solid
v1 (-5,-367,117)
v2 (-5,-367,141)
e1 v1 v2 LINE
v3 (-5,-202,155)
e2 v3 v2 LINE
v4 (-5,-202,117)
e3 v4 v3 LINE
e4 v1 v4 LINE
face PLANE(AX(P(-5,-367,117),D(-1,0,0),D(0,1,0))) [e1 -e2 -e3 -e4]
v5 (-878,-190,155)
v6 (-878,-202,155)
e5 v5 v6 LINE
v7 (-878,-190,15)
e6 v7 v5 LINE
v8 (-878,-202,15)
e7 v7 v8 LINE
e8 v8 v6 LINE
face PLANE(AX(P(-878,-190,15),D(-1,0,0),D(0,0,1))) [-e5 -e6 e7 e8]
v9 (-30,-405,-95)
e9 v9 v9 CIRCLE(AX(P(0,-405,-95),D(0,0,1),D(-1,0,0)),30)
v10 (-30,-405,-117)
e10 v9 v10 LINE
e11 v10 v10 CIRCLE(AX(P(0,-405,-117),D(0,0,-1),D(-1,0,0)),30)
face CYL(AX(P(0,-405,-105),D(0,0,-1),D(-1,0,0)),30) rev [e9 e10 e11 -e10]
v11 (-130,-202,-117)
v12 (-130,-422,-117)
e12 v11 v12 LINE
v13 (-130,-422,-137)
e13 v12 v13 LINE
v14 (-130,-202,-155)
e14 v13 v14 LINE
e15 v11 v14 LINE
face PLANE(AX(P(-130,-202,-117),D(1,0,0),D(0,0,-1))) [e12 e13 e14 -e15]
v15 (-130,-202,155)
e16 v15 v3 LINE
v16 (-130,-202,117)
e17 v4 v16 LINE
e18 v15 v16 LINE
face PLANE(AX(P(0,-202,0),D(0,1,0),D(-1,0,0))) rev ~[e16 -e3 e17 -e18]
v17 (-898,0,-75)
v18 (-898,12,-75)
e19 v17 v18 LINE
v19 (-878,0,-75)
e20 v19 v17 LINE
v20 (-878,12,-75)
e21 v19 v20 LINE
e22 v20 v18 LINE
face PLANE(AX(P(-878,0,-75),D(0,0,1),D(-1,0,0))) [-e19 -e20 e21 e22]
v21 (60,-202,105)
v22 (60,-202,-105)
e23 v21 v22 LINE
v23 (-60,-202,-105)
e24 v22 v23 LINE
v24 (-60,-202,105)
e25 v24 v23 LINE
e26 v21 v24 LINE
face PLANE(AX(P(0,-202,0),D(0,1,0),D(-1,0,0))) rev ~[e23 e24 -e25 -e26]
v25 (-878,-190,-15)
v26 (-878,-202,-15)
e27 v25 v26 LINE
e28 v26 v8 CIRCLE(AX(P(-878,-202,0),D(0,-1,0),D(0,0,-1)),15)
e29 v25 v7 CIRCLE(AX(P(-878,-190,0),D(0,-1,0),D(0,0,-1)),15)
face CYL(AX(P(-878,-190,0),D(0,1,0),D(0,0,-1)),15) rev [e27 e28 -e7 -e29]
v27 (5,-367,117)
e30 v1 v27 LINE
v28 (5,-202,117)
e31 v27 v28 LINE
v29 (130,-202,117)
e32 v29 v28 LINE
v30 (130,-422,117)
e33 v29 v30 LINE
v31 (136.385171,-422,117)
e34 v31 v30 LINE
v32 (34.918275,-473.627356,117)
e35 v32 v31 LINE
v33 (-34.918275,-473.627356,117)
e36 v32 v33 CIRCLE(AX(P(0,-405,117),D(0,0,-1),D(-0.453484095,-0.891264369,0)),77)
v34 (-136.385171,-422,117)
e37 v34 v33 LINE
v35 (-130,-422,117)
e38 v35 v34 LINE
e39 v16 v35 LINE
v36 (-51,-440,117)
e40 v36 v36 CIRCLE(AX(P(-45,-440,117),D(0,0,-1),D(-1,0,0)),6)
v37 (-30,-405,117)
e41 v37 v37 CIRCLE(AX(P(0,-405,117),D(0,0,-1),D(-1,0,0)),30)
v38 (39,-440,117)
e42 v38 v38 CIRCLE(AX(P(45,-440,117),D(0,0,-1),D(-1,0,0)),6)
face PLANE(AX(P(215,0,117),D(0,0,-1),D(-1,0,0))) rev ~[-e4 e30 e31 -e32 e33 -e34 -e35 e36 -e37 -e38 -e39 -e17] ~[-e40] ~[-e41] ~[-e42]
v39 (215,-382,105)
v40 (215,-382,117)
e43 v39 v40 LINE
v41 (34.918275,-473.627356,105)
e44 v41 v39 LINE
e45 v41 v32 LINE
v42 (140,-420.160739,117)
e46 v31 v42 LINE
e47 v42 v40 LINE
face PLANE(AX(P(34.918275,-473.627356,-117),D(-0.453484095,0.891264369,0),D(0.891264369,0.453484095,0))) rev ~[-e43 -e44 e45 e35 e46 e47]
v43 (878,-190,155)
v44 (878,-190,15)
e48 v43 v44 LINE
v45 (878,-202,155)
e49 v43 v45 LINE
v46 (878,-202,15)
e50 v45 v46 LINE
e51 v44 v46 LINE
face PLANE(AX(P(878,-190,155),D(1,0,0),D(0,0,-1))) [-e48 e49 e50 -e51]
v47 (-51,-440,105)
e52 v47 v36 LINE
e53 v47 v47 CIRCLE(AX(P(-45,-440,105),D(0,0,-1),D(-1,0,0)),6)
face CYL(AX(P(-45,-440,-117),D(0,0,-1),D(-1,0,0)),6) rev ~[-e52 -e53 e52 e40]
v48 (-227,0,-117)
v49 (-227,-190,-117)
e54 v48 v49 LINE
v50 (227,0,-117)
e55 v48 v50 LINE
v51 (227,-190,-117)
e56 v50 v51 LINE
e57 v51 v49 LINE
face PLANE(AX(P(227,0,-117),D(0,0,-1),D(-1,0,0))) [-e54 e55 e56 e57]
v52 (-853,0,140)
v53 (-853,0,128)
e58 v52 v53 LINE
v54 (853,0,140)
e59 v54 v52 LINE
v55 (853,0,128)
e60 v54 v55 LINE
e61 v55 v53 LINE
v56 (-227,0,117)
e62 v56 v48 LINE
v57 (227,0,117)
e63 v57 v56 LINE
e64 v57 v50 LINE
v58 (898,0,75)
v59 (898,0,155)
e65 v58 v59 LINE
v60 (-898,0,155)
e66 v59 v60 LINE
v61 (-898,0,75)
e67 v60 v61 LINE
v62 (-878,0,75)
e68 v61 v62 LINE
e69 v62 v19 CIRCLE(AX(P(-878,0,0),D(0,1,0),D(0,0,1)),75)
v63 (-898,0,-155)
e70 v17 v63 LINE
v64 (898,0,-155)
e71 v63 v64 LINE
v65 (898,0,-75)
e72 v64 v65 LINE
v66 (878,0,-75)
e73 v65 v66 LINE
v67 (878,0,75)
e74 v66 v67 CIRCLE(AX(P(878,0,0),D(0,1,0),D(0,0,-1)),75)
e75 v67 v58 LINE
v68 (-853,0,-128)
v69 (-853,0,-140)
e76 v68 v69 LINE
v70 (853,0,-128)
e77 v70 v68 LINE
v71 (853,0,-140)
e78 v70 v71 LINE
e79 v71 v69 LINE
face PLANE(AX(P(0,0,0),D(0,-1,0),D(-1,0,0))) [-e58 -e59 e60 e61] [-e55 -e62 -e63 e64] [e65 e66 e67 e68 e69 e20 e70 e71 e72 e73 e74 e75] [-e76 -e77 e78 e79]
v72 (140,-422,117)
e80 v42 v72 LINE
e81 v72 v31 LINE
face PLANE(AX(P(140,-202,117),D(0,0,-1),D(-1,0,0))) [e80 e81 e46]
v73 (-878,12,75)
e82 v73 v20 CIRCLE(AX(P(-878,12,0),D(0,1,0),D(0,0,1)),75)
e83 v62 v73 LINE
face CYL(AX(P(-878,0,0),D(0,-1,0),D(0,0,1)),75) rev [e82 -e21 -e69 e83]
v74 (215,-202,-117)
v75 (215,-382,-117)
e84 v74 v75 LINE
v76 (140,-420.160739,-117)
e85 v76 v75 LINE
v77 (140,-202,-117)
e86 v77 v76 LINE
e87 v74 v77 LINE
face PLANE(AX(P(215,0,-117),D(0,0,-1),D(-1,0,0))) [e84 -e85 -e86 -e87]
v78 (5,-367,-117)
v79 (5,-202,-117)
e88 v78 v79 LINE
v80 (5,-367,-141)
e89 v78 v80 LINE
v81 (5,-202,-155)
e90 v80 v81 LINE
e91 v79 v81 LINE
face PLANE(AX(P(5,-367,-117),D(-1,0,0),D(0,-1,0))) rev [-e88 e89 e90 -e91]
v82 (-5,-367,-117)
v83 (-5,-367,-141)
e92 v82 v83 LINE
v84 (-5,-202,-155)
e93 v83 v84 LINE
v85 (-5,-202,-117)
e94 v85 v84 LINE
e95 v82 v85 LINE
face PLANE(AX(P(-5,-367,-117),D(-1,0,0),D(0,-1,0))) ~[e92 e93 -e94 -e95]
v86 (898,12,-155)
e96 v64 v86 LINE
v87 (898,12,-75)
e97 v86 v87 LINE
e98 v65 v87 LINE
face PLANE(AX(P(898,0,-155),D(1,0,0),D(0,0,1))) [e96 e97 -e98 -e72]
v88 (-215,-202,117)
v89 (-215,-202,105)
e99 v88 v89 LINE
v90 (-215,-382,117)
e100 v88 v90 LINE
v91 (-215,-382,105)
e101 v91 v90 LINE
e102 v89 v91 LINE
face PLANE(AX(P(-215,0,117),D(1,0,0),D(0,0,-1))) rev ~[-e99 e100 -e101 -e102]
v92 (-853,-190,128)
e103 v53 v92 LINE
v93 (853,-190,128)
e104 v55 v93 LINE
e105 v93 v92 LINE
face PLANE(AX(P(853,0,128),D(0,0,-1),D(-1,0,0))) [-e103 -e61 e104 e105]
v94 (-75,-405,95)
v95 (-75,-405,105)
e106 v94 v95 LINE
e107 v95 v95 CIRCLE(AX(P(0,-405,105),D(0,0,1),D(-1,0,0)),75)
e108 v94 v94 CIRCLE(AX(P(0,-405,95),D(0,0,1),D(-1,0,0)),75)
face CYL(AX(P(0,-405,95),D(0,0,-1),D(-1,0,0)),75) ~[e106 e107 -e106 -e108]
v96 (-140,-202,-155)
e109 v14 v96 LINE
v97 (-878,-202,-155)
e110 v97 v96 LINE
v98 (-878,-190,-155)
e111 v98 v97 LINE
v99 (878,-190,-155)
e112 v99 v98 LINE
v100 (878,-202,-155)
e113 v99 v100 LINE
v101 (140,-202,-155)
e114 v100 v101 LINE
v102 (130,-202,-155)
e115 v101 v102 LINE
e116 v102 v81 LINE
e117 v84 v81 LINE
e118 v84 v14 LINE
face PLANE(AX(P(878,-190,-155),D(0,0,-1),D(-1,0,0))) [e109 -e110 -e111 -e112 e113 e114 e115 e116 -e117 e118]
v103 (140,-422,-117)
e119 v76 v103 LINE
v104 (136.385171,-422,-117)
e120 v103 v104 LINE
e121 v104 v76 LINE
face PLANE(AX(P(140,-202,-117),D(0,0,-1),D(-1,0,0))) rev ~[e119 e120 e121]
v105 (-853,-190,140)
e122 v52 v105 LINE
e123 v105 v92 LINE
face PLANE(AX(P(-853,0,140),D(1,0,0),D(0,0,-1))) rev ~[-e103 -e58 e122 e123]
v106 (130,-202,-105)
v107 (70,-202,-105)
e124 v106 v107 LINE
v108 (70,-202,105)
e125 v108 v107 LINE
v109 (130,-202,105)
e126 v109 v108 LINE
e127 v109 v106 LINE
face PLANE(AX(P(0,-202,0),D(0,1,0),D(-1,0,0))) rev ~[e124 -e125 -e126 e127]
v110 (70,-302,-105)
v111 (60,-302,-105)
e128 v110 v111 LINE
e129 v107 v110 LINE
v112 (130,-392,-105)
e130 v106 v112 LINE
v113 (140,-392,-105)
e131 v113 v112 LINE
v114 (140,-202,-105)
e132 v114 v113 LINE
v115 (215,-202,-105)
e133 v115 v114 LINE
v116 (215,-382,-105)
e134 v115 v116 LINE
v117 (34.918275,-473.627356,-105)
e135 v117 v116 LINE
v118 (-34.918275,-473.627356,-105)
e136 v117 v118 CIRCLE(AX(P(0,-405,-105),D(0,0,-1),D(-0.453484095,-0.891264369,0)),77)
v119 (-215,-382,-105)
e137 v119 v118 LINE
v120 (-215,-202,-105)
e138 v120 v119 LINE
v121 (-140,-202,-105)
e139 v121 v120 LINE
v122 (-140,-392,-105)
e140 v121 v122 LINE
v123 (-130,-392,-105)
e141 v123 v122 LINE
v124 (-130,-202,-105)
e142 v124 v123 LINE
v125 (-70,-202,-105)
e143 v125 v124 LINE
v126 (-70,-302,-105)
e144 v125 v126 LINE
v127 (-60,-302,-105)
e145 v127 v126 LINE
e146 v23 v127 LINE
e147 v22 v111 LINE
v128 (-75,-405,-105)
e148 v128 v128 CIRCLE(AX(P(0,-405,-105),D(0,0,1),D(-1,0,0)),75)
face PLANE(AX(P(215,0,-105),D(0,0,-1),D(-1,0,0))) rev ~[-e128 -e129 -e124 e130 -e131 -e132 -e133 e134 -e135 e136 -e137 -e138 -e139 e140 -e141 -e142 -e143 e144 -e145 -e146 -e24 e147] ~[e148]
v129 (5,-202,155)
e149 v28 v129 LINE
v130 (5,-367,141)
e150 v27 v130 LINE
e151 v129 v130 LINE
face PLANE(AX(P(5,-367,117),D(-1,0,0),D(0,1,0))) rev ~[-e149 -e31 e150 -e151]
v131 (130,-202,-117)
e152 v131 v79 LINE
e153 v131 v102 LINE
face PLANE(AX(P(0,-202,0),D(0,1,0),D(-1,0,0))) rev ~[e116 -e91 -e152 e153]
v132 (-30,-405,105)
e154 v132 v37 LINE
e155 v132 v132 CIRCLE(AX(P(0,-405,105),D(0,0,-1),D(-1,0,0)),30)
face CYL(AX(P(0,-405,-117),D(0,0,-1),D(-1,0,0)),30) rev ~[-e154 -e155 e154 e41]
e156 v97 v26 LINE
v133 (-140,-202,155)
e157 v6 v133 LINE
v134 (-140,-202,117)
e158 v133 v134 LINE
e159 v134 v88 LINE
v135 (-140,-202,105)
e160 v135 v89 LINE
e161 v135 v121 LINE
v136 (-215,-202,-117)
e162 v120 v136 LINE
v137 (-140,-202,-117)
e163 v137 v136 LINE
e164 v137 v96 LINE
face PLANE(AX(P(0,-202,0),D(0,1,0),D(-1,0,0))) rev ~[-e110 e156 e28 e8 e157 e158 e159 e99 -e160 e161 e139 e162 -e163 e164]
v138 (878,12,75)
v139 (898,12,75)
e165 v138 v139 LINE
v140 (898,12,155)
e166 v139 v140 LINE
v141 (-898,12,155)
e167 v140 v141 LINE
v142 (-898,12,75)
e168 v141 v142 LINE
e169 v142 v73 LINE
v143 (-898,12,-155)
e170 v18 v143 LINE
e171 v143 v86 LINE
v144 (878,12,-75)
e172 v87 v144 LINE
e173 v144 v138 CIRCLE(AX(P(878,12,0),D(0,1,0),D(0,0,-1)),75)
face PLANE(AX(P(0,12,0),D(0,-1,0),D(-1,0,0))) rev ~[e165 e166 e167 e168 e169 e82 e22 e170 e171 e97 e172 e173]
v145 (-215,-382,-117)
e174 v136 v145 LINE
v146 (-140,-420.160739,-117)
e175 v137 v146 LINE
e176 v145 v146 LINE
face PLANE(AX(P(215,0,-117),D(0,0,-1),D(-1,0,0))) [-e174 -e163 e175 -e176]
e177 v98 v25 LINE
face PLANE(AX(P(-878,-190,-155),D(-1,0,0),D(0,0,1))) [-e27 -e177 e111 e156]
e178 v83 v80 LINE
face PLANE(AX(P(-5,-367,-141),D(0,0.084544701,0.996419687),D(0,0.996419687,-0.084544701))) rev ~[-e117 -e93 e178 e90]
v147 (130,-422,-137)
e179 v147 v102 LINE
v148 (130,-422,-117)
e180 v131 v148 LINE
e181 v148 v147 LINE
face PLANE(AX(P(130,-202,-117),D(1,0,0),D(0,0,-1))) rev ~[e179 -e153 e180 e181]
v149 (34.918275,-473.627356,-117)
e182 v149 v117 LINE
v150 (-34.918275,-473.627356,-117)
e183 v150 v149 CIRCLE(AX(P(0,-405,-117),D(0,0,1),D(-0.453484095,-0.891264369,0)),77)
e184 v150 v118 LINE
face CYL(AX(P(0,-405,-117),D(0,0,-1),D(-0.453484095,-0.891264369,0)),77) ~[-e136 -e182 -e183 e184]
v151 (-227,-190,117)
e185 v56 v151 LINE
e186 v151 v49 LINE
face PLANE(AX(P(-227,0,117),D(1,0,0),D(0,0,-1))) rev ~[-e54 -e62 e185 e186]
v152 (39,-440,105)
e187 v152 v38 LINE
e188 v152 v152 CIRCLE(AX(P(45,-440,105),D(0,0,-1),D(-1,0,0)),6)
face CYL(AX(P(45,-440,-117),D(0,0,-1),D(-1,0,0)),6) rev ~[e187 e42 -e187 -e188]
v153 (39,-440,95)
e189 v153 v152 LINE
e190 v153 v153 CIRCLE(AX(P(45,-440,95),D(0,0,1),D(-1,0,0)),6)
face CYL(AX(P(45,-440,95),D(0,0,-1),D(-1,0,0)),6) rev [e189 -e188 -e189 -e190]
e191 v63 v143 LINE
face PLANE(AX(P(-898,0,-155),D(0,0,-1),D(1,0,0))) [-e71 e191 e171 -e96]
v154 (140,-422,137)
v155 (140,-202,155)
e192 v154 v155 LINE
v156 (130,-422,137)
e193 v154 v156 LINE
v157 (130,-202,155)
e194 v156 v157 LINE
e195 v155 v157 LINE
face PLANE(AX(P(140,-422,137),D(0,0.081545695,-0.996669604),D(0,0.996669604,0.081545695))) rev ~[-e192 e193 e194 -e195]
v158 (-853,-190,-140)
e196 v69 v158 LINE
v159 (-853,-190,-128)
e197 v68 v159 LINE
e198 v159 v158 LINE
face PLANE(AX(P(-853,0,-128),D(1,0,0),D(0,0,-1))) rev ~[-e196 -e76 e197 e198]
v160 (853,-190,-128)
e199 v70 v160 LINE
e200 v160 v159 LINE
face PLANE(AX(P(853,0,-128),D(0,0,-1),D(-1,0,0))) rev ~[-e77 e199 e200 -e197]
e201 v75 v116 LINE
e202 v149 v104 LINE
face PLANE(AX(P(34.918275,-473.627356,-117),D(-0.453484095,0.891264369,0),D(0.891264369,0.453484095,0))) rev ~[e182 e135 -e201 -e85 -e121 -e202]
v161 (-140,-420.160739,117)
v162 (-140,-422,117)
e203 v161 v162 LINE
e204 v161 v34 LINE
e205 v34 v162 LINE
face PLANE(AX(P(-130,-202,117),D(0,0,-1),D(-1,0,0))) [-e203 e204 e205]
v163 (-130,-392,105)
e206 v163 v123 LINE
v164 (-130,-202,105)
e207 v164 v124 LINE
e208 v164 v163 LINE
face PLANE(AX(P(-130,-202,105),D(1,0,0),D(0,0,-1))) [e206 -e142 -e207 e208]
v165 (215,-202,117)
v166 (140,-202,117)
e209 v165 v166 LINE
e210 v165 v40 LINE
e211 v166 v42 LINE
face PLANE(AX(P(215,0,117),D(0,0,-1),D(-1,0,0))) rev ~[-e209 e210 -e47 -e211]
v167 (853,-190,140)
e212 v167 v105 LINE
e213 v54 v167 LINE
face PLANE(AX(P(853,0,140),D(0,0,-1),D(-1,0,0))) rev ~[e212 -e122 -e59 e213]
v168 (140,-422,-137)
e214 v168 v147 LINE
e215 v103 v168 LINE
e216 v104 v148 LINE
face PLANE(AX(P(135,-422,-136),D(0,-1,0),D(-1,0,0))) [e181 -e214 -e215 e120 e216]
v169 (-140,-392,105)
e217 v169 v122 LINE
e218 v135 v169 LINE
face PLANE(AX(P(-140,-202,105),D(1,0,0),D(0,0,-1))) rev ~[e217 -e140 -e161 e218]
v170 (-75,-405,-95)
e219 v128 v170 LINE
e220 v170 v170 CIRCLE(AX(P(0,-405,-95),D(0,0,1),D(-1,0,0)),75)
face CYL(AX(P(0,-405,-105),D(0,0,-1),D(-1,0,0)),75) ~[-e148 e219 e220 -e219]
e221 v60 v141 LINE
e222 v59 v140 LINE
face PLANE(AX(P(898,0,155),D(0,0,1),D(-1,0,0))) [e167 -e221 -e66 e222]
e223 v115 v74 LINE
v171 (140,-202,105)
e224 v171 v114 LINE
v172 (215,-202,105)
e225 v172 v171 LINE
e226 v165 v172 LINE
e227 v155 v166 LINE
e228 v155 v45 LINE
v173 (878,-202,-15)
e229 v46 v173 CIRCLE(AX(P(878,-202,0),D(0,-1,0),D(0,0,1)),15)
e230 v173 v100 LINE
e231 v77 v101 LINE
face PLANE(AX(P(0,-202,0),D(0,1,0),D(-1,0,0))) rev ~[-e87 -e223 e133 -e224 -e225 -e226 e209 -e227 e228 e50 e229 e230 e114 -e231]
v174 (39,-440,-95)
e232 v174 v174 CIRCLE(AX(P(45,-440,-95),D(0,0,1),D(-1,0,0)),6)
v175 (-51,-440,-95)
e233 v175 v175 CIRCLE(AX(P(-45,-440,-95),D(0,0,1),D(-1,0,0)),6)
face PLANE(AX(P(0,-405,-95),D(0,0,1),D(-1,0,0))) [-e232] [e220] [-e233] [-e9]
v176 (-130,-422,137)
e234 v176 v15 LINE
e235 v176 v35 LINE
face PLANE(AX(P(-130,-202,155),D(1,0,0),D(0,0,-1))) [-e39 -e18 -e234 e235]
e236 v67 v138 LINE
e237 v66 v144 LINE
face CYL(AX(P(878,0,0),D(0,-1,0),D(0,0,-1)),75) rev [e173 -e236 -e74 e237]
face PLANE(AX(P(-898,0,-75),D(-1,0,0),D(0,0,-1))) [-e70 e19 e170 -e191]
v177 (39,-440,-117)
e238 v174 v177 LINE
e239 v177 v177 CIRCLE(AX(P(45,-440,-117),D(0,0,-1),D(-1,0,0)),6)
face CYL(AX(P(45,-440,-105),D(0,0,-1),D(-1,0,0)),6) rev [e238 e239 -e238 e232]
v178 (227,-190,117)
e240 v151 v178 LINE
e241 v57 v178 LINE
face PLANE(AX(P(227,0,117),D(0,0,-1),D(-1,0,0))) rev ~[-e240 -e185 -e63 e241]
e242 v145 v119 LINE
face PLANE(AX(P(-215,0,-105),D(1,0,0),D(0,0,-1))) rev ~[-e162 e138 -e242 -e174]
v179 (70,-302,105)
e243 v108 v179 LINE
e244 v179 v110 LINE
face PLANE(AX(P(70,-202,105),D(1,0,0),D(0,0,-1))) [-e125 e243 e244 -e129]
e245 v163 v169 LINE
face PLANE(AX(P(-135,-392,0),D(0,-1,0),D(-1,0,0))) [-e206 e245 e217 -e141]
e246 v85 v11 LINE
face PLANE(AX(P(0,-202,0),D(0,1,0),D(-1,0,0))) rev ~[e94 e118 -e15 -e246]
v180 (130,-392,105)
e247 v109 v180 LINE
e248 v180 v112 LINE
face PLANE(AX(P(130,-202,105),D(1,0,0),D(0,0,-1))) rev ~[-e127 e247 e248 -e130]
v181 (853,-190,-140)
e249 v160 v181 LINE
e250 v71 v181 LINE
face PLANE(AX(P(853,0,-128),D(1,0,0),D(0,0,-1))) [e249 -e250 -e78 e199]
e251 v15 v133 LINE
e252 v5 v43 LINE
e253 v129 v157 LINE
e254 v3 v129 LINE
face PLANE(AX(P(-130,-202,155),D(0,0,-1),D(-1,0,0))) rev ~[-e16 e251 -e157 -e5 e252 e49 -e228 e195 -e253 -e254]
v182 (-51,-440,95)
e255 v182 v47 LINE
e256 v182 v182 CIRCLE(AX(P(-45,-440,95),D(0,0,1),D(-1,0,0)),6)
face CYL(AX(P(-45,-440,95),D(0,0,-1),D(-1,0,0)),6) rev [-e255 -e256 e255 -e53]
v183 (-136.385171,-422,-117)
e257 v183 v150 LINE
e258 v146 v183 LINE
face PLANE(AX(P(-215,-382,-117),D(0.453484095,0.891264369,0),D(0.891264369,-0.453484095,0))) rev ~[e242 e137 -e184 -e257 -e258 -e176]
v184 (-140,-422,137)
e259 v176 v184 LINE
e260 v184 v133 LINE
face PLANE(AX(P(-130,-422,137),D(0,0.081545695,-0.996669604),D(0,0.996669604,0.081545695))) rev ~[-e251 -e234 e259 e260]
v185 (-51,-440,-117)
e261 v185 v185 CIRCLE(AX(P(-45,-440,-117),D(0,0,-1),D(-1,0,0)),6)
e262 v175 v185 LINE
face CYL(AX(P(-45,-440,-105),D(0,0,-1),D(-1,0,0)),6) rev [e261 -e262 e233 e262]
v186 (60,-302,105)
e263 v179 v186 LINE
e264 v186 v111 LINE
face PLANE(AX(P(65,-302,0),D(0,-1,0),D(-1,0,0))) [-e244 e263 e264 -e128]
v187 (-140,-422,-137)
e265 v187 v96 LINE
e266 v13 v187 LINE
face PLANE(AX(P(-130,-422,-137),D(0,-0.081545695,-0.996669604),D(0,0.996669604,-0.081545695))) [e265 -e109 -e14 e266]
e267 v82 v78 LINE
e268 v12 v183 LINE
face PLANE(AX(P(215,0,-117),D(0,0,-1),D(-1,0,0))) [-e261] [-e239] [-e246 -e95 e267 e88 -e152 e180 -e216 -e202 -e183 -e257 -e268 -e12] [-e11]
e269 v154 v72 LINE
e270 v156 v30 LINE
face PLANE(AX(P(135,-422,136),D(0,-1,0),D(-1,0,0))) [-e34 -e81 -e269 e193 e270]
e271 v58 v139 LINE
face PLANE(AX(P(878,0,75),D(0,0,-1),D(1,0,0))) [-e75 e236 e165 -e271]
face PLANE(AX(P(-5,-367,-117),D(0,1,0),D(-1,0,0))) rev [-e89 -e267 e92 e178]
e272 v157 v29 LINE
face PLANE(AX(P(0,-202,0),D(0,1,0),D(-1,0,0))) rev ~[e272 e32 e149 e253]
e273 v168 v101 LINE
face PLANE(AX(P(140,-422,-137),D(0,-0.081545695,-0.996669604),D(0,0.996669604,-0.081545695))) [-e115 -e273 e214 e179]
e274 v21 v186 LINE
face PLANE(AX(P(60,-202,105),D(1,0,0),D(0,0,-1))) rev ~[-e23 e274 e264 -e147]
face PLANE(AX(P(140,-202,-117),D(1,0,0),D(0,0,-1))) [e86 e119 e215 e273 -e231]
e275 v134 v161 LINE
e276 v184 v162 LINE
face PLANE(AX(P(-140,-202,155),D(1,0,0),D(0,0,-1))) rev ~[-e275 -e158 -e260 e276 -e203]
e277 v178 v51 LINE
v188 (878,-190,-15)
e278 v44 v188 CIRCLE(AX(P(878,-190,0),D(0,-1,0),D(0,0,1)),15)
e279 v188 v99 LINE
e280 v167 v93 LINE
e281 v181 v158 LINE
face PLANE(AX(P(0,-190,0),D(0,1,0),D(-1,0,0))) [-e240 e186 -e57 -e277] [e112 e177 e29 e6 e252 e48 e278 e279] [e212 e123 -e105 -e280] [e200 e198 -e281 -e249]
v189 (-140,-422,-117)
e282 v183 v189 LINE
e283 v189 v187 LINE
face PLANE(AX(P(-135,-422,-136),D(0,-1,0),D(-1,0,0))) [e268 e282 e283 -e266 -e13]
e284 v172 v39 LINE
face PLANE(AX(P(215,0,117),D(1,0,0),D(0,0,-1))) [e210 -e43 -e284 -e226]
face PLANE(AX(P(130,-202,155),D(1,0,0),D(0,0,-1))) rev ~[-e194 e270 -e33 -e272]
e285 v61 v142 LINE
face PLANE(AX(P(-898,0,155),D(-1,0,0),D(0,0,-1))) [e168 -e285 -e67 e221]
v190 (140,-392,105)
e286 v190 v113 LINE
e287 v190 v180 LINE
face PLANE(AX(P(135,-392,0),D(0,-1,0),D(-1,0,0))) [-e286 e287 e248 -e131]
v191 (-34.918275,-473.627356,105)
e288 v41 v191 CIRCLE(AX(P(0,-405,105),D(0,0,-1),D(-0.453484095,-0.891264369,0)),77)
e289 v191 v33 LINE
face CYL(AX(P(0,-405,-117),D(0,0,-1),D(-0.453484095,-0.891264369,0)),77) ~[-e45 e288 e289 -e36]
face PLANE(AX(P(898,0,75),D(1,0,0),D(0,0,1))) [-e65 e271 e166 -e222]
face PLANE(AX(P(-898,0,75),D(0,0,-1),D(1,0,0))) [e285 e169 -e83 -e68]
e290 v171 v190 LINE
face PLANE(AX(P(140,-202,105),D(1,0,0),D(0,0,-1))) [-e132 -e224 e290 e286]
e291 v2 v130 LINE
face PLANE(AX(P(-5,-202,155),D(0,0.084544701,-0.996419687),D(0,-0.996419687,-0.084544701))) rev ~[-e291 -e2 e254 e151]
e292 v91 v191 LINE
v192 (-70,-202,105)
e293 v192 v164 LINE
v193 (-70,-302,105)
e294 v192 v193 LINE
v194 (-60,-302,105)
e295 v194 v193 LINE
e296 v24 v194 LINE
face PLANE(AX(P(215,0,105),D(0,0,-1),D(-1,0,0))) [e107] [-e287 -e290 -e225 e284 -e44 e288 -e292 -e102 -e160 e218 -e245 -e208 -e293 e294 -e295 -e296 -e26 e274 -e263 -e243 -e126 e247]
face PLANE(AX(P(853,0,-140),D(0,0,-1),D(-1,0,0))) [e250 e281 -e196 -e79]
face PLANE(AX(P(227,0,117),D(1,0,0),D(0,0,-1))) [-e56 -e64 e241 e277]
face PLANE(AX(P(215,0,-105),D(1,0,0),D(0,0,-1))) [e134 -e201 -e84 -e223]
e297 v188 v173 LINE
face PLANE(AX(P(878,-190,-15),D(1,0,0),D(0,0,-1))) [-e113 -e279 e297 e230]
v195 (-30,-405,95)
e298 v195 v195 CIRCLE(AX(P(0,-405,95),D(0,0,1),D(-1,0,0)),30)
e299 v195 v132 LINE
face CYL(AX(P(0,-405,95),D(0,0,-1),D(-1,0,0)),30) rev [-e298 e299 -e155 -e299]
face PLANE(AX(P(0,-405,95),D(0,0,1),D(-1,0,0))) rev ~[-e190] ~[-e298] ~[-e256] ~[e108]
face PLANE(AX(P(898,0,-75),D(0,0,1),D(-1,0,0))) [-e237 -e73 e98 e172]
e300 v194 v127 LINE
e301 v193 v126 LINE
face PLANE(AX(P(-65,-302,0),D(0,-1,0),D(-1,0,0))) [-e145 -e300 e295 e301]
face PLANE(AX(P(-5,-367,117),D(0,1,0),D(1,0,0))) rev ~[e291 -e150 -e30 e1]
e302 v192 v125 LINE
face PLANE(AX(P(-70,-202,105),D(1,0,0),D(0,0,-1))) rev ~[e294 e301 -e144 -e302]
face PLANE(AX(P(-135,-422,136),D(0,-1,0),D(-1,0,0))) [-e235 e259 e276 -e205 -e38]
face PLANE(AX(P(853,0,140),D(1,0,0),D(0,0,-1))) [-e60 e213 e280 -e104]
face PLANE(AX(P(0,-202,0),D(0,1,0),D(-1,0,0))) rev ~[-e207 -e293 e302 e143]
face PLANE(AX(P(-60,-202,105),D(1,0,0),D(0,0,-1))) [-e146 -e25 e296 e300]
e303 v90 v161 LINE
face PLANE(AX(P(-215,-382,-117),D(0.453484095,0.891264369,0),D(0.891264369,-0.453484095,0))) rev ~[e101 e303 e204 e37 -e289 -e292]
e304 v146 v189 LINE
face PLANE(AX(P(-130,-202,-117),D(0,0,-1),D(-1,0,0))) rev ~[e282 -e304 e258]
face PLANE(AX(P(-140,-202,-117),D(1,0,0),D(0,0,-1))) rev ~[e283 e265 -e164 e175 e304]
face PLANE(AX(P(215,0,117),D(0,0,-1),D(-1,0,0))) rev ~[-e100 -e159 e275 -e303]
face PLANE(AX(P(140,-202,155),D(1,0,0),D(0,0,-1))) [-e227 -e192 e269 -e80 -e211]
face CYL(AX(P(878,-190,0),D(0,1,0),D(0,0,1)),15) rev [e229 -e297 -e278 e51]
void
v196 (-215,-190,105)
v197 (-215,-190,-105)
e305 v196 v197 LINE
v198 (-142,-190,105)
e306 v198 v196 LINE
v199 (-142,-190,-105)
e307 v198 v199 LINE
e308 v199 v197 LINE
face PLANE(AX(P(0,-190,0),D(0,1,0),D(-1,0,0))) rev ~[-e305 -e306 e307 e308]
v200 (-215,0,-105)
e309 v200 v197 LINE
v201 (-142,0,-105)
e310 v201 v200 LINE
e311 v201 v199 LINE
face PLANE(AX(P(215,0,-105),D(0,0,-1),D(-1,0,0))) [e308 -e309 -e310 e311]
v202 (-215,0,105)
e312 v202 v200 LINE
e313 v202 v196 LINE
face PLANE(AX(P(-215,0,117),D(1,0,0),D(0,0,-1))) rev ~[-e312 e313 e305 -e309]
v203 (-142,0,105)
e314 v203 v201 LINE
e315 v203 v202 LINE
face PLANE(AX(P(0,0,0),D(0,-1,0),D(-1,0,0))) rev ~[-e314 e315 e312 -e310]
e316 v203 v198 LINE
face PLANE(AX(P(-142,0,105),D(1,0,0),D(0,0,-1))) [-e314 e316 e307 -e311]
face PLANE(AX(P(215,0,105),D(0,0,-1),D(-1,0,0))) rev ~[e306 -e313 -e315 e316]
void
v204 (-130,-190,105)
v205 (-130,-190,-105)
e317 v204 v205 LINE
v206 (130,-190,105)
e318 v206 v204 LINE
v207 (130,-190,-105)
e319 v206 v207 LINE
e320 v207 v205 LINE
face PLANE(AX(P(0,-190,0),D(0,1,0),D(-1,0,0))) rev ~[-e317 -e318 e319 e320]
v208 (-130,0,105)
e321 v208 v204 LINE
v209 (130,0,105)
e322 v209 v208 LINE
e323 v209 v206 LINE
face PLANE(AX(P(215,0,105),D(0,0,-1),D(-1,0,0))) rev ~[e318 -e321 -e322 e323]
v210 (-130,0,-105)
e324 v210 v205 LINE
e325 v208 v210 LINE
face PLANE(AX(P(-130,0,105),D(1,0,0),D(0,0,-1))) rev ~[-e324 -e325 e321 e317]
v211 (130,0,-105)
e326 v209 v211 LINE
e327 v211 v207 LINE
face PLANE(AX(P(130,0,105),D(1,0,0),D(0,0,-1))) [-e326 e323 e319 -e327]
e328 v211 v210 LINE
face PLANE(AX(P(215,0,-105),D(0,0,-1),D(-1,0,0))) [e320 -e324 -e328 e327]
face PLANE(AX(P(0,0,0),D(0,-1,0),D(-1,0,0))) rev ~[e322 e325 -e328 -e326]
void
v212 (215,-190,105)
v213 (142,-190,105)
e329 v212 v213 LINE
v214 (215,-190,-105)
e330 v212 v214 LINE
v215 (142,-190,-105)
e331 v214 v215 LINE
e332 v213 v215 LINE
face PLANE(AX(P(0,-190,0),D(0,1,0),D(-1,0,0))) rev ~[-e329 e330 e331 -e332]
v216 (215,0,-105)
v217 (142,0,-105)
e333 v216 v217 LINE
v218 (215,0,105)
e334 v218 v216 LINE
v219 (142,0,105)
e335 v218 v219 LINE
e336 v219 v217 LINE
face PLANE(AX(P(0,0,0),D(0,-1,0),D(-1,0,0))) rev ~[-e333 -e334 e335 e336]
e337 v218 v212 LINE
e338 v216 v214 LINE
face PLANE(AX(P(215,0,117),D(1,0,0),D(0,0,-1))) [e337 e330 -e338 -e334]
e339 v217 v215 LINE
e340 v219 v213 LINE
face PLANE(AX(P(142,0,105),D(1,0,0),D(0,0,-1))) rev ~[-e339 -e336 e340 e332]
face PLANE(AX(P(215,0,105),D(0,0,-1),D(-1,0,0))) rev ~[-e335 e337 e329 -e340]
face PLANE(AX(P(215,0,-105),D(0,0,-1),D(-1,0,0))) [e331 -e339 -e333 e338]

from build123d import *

# Parameters (mm, degrees)
EXTRUDE_1_DEPTH        = 12
SKETCH_2_W             = 1706
SKETCH_2_H             = 12
EXTRUDE_2_DEPTH        = 190
EXTRUDE_3_DEPTH        = 12
SKETCH_4_W             = 430
SKETCH_4_H             = 12
EXTRUDE_4_DEPTH        = 502
SKETCH_5_R             = 30
SKETCH_5_R_2           = 6
CUT_EXTRUDE_1_DEPTH    = 1065.139088653
SKETCH_6_W             = 10
SKETCH_6_H             = 165
EXTRUDE_5_DEPTH        = 38
CUT_EXTRUDE_2_DEPTH    = 10
SKETCH_8_W             = 10
SKETCH_8_H             = 210
EXTRUDE_6_DEPTH        = 190
SKETCH_9_W             = 10
SKETCH_9_H             = 38
EXTRUDE_7_DEPTH        = 220
CUT_EXTRUDE_3_DEPTH    = 18
PATTERN_LINEAR_1_COUNT = 2
PATTERN_LINEAR_1_PITCH = 270
SKETCH_11_W            = 12
SKETCH_11_H            = 234
SKETCH_11_H_2          = 210
EXTRUDE_8_DEPTH        = 190
SKETCH_12_R            = 75
SKETCH_12_R_2          = 30
SKETCH_12_R_3          = 6
EXTRUDE_9_DEPTH        = 10
PATTERN_LINEAR_2_COUNT = 2
PATTERN_LINEAR_2_PITCH = 200
SKETCH_14_W            = 10
SKETCH_14_H            = 210
EXTRUDE_10_DEPTH       = 100


with BuildPart() as part:
    # 草图1 → 凸台-拉伸1 (new body)
    with BuildSketch(Plane(origin=(0, 0, 0), x_dir=(1, 0, 0), z_dir=(0, 1, 0))):
        with BuildLine():
            Line((-898, 155), (898, 155))
            Line((898, 155), (898, 75))
            Line((898, 75), (878, 75))
            ThreePointArc((878, 75), (803, 0), (878, -75))
            Line((878, -75), (898, -75))
            Line((898, -75), (898, -155))
            Line((898, -155), (-898, -155))
            Line((-898, -155), (-898, -75))
            Line((-898, -75), (-878, -75))
            ThreePointArc((-878, -75), (-803, 0), (-878, 75))
            Line((-878, 75), (-898, 75))
            Line((-898, 75), (-898, 155))
        make_face()
    extrude(amount=EXTRUDE_1_DEPTH)

    # 草图2 → 凸台-拉伸2 (add)
    with BuildSketch(Plane(origin=(0, 0, 0), x_dir=(-1, 0, 0), z_dir=(0, -1, 0))):
        with Locations((0, 134)):
            Rectangle(SKETCH_2_W, SKETCH_2_H)
        with Locations((0, -134)):
            Rectangle(SKETCH_2_W, SKETCH_2_H)
    extrude(amount=EXTRUDE_2_DEPTH)

    # 草图3 → 凸台-拉伸3 (add)
    with BuildSketch(Plane.XZ.offset(190)):
        with BuildLine():
            Line((-878, 155), (878, 155))
            Line((878, 155), (878, 15))
            ThreePointArc((878, 15), (863, 0), (878, -15))
            Line((878, -15), (878, -155))
            Line((878, -155), (-878, -155))
            Line((-878, -155), (-878, -15))
            ThreePointArc((-878, -15), (-863, 0), (-878, 15))
            Line((-878, 15), (-878, 155))
        make_face()
    extrude(amount=EXTRUDE_3_DEPTH)

    # 草图4 → 凸台-拉伸4 (add)
    with BuildSketch(Plane(origin=(0, 0, 0), x_dir=(-1, 0, 0), z_dir=(0, -1, 0))):
        with Locations((0, -111)):
            Rectangle(SKETCH_4_W, SKETCH_4_H)
        with Locations((0, 111)):
            Rectangle(SKETCH_4_W, SKETCH_4_H)
    extrude(amount=EXTRUDE_4_DEPTH)

    # 草图5 → 切除-拉伸1 (cut, through all)
    with BuildSketch(Plane(origin=(0, 0, -117), x_dir=(-1, 0, 0), z_dir=(0, 0, -1))):
        with Locations((0, -405)):
            Circle(SKETCH_5_R)
        with Locations((-45, -440)):
            Circle(SKETCH_5_R_2)
        with Locations((45, -440)):
            Circle(SKETCH_5_R_2)
        with BuildLine():
            Line((-215, -382), (-215, -502))
            Line((-215, -502), (215, -502))
            Line((215, -502), (215, -382))
            Line((215, -382), (34.918275337, -473.627356408))
            ThreePointArc((34.918275337, -473.627356408), (0, -482), (-34.918275337, -473.627356408))
            Line((-34.918275337, -473.627356408), (-215, -382))
        make_face()
    extrude(amount=-CUT_EXTRUDE_1_DEPTH, mode=Mode.SUBTRACT)

    # 草图6 → 凸台-拉伸5 (add)
    with BuildSketch(Plane.XY.offset(117)):
        with Locations((0, -284.5)):
            Rectangle(SKETCH_6_W, SKETCH_6_H)
    extrude_5 = extrude(amount=EXTRUDE_5_DEPTH)

    # 镜向1: 凸台-拉伸5 across plane
    add(extrude_5.mirror(Plane.XY))

    # 草图7 → 切除-拉伸2 (cut)
    with BuildSketch(Plane.ZY.offset(5)):
        Polygon((-155, -202), (-155, -367), (-141, -367), align=None)
        Polygon((155, -202), (141, -367), (155, -367), align=None)
    extrude(amount=-CUT_EXTRUDE_2_DEPTH, mode=Mode.SUBTRACT)

    # 草图8 → 凸台-拉伸6 (add)
    with BuildSketch(Plane(origin=(0, -202, 0), x_dir=(-1, 0, 0), z_dir=(0, -1, 0))):
        with Locations((135, 0)):
            Rectangle(SKETCH_8_W, SKETCH_8_H)
        with Locations((-135, 0)):
            Rectangle(SKETCH_8_W, SKETCH_8_H)
    extrude(amount=EXTRUDE_6_DEPTH)

    # 草图9 → 凸台-拉伸7 (add)
    with BuildSketch(Plane(origin=(0, -202, 0), x_dir=(-1, 0, 0), z_dir=(0, -1, 0))):
        with Locations((135, -136)):
            Rectangle(SKETCH_9_W, SKETCH_9_H)
        with Locations((-135, -136)):
            Rectangle(SKETCH_9_W, SKETCH_9_H)
        with Locations((135, 136)):
            Rectangle(SKETCH_9_W, SKETCH_9_H)
        with Locations((-135, 136)):
            Rectangle(SKETCH_9_W, SKETCH_9_H)
    extrude(amount=EXTRUDE_7_DEPTH)

    # 草图10 → 切除-拉伸3 (cut)
    with BuildSketch(Plane(origin=(140, 0, 0), x_dir=(0, 0, -1), z_dir=(1, 0, 0))):
        Polygon((-155, -202), (-155, -422), (-137, -422), align=None)
        Polygon((155, -202), (155, -422), (137, -422), align=None)
    cut_extrude_3 = extrude(amount=-CUT_EXTRUDE_3_DEPTH, mode=Mode.SUBTRACT)

    # 阵列(线性)1: 切除-拉伸3 ×2
    with Locations(*[(-i * PATTERN_LINEAR_1_PITCH, 0, 0) for i in range(1, PATTERN_LINEAR_1_COUNT)]):
        add(cut_extrude_3, mode=Mode.SUBTRACT)

    # 草图11 → 凸台-拉伸8 (add)
    with BuildSketch(Plane(origin=(0, 0, 0), x_dir=(-1, 0, 0), z_dir=(0, -1, 0))):
        with Locations((-221, 0)):
            Rectangle(SKETCH_11_W, SKETCH_11_H)
        with Locations((221, 0)):
            Rectangle(SKETCH_11_W, SKETCH_11_H)
        with Locations((136, 0)):
            Rectangle(SKETCH_11_W, SKETCH_11_H_2)
        with Locations((-136, 0)):
            Rectangle(SKETCH_11_W, SKETCH_11_H_2)
    extrude(amount=EXTRUDE_8_DEPTH)

    # 草图12 → 凸台-拉伸9 (add)
    with BuildSketch(Plane.XY.offset(-105)):
        with Locations(Location((0, -405, 0), (0, 0, 180))):
            Circle(SKETCH_12_R)
        with Locations(Location((0, -405, 0), (0, 0, 180))):
            Circle(SKETCH_12_R_2, mode=Mode.SUBTRACT)
        with Locations(Location((-45, -440, 0), (0, 0, 180))):
            Circle(SKETCH_12_R_3, mode=Mode.SUBTRACT)
        with Locations(Location((45, -440, 0), (0, 0, 180))):
            Circle(SKETCH_12_R_3, mode=Mode.SUBTRACT)
    extrude_9 = extrude(amount=EXTRUDE_9_DEPTH)

    # 阵列(线性)2: 凸台-拉伸9 ×2
    with Locations(*[(0, 0, i * PATTERN_LINEAR_2_PITCH) for i in range(1, PATTERN_LINEAR_2_COUNT)]):
        add(extrude_9)

    # 草图14 → 凸台-拉伸10 (add)
    with BuildSketch(Plane(origin=(0, -202, 0), x_dir=(-1, 0, 0), z_dir=(0, -1, 0))):
        with Locations((65, 0)):
            Rectangle(SKETCH_14_W, SKETCH_14_H)
        with Locations((-65, 0)):
            Rectangle(SKETCH_14_W, SKETCH_14_H)
    extrude(amount=EXTRUDE_10_DEPTH)


solid = part.part
